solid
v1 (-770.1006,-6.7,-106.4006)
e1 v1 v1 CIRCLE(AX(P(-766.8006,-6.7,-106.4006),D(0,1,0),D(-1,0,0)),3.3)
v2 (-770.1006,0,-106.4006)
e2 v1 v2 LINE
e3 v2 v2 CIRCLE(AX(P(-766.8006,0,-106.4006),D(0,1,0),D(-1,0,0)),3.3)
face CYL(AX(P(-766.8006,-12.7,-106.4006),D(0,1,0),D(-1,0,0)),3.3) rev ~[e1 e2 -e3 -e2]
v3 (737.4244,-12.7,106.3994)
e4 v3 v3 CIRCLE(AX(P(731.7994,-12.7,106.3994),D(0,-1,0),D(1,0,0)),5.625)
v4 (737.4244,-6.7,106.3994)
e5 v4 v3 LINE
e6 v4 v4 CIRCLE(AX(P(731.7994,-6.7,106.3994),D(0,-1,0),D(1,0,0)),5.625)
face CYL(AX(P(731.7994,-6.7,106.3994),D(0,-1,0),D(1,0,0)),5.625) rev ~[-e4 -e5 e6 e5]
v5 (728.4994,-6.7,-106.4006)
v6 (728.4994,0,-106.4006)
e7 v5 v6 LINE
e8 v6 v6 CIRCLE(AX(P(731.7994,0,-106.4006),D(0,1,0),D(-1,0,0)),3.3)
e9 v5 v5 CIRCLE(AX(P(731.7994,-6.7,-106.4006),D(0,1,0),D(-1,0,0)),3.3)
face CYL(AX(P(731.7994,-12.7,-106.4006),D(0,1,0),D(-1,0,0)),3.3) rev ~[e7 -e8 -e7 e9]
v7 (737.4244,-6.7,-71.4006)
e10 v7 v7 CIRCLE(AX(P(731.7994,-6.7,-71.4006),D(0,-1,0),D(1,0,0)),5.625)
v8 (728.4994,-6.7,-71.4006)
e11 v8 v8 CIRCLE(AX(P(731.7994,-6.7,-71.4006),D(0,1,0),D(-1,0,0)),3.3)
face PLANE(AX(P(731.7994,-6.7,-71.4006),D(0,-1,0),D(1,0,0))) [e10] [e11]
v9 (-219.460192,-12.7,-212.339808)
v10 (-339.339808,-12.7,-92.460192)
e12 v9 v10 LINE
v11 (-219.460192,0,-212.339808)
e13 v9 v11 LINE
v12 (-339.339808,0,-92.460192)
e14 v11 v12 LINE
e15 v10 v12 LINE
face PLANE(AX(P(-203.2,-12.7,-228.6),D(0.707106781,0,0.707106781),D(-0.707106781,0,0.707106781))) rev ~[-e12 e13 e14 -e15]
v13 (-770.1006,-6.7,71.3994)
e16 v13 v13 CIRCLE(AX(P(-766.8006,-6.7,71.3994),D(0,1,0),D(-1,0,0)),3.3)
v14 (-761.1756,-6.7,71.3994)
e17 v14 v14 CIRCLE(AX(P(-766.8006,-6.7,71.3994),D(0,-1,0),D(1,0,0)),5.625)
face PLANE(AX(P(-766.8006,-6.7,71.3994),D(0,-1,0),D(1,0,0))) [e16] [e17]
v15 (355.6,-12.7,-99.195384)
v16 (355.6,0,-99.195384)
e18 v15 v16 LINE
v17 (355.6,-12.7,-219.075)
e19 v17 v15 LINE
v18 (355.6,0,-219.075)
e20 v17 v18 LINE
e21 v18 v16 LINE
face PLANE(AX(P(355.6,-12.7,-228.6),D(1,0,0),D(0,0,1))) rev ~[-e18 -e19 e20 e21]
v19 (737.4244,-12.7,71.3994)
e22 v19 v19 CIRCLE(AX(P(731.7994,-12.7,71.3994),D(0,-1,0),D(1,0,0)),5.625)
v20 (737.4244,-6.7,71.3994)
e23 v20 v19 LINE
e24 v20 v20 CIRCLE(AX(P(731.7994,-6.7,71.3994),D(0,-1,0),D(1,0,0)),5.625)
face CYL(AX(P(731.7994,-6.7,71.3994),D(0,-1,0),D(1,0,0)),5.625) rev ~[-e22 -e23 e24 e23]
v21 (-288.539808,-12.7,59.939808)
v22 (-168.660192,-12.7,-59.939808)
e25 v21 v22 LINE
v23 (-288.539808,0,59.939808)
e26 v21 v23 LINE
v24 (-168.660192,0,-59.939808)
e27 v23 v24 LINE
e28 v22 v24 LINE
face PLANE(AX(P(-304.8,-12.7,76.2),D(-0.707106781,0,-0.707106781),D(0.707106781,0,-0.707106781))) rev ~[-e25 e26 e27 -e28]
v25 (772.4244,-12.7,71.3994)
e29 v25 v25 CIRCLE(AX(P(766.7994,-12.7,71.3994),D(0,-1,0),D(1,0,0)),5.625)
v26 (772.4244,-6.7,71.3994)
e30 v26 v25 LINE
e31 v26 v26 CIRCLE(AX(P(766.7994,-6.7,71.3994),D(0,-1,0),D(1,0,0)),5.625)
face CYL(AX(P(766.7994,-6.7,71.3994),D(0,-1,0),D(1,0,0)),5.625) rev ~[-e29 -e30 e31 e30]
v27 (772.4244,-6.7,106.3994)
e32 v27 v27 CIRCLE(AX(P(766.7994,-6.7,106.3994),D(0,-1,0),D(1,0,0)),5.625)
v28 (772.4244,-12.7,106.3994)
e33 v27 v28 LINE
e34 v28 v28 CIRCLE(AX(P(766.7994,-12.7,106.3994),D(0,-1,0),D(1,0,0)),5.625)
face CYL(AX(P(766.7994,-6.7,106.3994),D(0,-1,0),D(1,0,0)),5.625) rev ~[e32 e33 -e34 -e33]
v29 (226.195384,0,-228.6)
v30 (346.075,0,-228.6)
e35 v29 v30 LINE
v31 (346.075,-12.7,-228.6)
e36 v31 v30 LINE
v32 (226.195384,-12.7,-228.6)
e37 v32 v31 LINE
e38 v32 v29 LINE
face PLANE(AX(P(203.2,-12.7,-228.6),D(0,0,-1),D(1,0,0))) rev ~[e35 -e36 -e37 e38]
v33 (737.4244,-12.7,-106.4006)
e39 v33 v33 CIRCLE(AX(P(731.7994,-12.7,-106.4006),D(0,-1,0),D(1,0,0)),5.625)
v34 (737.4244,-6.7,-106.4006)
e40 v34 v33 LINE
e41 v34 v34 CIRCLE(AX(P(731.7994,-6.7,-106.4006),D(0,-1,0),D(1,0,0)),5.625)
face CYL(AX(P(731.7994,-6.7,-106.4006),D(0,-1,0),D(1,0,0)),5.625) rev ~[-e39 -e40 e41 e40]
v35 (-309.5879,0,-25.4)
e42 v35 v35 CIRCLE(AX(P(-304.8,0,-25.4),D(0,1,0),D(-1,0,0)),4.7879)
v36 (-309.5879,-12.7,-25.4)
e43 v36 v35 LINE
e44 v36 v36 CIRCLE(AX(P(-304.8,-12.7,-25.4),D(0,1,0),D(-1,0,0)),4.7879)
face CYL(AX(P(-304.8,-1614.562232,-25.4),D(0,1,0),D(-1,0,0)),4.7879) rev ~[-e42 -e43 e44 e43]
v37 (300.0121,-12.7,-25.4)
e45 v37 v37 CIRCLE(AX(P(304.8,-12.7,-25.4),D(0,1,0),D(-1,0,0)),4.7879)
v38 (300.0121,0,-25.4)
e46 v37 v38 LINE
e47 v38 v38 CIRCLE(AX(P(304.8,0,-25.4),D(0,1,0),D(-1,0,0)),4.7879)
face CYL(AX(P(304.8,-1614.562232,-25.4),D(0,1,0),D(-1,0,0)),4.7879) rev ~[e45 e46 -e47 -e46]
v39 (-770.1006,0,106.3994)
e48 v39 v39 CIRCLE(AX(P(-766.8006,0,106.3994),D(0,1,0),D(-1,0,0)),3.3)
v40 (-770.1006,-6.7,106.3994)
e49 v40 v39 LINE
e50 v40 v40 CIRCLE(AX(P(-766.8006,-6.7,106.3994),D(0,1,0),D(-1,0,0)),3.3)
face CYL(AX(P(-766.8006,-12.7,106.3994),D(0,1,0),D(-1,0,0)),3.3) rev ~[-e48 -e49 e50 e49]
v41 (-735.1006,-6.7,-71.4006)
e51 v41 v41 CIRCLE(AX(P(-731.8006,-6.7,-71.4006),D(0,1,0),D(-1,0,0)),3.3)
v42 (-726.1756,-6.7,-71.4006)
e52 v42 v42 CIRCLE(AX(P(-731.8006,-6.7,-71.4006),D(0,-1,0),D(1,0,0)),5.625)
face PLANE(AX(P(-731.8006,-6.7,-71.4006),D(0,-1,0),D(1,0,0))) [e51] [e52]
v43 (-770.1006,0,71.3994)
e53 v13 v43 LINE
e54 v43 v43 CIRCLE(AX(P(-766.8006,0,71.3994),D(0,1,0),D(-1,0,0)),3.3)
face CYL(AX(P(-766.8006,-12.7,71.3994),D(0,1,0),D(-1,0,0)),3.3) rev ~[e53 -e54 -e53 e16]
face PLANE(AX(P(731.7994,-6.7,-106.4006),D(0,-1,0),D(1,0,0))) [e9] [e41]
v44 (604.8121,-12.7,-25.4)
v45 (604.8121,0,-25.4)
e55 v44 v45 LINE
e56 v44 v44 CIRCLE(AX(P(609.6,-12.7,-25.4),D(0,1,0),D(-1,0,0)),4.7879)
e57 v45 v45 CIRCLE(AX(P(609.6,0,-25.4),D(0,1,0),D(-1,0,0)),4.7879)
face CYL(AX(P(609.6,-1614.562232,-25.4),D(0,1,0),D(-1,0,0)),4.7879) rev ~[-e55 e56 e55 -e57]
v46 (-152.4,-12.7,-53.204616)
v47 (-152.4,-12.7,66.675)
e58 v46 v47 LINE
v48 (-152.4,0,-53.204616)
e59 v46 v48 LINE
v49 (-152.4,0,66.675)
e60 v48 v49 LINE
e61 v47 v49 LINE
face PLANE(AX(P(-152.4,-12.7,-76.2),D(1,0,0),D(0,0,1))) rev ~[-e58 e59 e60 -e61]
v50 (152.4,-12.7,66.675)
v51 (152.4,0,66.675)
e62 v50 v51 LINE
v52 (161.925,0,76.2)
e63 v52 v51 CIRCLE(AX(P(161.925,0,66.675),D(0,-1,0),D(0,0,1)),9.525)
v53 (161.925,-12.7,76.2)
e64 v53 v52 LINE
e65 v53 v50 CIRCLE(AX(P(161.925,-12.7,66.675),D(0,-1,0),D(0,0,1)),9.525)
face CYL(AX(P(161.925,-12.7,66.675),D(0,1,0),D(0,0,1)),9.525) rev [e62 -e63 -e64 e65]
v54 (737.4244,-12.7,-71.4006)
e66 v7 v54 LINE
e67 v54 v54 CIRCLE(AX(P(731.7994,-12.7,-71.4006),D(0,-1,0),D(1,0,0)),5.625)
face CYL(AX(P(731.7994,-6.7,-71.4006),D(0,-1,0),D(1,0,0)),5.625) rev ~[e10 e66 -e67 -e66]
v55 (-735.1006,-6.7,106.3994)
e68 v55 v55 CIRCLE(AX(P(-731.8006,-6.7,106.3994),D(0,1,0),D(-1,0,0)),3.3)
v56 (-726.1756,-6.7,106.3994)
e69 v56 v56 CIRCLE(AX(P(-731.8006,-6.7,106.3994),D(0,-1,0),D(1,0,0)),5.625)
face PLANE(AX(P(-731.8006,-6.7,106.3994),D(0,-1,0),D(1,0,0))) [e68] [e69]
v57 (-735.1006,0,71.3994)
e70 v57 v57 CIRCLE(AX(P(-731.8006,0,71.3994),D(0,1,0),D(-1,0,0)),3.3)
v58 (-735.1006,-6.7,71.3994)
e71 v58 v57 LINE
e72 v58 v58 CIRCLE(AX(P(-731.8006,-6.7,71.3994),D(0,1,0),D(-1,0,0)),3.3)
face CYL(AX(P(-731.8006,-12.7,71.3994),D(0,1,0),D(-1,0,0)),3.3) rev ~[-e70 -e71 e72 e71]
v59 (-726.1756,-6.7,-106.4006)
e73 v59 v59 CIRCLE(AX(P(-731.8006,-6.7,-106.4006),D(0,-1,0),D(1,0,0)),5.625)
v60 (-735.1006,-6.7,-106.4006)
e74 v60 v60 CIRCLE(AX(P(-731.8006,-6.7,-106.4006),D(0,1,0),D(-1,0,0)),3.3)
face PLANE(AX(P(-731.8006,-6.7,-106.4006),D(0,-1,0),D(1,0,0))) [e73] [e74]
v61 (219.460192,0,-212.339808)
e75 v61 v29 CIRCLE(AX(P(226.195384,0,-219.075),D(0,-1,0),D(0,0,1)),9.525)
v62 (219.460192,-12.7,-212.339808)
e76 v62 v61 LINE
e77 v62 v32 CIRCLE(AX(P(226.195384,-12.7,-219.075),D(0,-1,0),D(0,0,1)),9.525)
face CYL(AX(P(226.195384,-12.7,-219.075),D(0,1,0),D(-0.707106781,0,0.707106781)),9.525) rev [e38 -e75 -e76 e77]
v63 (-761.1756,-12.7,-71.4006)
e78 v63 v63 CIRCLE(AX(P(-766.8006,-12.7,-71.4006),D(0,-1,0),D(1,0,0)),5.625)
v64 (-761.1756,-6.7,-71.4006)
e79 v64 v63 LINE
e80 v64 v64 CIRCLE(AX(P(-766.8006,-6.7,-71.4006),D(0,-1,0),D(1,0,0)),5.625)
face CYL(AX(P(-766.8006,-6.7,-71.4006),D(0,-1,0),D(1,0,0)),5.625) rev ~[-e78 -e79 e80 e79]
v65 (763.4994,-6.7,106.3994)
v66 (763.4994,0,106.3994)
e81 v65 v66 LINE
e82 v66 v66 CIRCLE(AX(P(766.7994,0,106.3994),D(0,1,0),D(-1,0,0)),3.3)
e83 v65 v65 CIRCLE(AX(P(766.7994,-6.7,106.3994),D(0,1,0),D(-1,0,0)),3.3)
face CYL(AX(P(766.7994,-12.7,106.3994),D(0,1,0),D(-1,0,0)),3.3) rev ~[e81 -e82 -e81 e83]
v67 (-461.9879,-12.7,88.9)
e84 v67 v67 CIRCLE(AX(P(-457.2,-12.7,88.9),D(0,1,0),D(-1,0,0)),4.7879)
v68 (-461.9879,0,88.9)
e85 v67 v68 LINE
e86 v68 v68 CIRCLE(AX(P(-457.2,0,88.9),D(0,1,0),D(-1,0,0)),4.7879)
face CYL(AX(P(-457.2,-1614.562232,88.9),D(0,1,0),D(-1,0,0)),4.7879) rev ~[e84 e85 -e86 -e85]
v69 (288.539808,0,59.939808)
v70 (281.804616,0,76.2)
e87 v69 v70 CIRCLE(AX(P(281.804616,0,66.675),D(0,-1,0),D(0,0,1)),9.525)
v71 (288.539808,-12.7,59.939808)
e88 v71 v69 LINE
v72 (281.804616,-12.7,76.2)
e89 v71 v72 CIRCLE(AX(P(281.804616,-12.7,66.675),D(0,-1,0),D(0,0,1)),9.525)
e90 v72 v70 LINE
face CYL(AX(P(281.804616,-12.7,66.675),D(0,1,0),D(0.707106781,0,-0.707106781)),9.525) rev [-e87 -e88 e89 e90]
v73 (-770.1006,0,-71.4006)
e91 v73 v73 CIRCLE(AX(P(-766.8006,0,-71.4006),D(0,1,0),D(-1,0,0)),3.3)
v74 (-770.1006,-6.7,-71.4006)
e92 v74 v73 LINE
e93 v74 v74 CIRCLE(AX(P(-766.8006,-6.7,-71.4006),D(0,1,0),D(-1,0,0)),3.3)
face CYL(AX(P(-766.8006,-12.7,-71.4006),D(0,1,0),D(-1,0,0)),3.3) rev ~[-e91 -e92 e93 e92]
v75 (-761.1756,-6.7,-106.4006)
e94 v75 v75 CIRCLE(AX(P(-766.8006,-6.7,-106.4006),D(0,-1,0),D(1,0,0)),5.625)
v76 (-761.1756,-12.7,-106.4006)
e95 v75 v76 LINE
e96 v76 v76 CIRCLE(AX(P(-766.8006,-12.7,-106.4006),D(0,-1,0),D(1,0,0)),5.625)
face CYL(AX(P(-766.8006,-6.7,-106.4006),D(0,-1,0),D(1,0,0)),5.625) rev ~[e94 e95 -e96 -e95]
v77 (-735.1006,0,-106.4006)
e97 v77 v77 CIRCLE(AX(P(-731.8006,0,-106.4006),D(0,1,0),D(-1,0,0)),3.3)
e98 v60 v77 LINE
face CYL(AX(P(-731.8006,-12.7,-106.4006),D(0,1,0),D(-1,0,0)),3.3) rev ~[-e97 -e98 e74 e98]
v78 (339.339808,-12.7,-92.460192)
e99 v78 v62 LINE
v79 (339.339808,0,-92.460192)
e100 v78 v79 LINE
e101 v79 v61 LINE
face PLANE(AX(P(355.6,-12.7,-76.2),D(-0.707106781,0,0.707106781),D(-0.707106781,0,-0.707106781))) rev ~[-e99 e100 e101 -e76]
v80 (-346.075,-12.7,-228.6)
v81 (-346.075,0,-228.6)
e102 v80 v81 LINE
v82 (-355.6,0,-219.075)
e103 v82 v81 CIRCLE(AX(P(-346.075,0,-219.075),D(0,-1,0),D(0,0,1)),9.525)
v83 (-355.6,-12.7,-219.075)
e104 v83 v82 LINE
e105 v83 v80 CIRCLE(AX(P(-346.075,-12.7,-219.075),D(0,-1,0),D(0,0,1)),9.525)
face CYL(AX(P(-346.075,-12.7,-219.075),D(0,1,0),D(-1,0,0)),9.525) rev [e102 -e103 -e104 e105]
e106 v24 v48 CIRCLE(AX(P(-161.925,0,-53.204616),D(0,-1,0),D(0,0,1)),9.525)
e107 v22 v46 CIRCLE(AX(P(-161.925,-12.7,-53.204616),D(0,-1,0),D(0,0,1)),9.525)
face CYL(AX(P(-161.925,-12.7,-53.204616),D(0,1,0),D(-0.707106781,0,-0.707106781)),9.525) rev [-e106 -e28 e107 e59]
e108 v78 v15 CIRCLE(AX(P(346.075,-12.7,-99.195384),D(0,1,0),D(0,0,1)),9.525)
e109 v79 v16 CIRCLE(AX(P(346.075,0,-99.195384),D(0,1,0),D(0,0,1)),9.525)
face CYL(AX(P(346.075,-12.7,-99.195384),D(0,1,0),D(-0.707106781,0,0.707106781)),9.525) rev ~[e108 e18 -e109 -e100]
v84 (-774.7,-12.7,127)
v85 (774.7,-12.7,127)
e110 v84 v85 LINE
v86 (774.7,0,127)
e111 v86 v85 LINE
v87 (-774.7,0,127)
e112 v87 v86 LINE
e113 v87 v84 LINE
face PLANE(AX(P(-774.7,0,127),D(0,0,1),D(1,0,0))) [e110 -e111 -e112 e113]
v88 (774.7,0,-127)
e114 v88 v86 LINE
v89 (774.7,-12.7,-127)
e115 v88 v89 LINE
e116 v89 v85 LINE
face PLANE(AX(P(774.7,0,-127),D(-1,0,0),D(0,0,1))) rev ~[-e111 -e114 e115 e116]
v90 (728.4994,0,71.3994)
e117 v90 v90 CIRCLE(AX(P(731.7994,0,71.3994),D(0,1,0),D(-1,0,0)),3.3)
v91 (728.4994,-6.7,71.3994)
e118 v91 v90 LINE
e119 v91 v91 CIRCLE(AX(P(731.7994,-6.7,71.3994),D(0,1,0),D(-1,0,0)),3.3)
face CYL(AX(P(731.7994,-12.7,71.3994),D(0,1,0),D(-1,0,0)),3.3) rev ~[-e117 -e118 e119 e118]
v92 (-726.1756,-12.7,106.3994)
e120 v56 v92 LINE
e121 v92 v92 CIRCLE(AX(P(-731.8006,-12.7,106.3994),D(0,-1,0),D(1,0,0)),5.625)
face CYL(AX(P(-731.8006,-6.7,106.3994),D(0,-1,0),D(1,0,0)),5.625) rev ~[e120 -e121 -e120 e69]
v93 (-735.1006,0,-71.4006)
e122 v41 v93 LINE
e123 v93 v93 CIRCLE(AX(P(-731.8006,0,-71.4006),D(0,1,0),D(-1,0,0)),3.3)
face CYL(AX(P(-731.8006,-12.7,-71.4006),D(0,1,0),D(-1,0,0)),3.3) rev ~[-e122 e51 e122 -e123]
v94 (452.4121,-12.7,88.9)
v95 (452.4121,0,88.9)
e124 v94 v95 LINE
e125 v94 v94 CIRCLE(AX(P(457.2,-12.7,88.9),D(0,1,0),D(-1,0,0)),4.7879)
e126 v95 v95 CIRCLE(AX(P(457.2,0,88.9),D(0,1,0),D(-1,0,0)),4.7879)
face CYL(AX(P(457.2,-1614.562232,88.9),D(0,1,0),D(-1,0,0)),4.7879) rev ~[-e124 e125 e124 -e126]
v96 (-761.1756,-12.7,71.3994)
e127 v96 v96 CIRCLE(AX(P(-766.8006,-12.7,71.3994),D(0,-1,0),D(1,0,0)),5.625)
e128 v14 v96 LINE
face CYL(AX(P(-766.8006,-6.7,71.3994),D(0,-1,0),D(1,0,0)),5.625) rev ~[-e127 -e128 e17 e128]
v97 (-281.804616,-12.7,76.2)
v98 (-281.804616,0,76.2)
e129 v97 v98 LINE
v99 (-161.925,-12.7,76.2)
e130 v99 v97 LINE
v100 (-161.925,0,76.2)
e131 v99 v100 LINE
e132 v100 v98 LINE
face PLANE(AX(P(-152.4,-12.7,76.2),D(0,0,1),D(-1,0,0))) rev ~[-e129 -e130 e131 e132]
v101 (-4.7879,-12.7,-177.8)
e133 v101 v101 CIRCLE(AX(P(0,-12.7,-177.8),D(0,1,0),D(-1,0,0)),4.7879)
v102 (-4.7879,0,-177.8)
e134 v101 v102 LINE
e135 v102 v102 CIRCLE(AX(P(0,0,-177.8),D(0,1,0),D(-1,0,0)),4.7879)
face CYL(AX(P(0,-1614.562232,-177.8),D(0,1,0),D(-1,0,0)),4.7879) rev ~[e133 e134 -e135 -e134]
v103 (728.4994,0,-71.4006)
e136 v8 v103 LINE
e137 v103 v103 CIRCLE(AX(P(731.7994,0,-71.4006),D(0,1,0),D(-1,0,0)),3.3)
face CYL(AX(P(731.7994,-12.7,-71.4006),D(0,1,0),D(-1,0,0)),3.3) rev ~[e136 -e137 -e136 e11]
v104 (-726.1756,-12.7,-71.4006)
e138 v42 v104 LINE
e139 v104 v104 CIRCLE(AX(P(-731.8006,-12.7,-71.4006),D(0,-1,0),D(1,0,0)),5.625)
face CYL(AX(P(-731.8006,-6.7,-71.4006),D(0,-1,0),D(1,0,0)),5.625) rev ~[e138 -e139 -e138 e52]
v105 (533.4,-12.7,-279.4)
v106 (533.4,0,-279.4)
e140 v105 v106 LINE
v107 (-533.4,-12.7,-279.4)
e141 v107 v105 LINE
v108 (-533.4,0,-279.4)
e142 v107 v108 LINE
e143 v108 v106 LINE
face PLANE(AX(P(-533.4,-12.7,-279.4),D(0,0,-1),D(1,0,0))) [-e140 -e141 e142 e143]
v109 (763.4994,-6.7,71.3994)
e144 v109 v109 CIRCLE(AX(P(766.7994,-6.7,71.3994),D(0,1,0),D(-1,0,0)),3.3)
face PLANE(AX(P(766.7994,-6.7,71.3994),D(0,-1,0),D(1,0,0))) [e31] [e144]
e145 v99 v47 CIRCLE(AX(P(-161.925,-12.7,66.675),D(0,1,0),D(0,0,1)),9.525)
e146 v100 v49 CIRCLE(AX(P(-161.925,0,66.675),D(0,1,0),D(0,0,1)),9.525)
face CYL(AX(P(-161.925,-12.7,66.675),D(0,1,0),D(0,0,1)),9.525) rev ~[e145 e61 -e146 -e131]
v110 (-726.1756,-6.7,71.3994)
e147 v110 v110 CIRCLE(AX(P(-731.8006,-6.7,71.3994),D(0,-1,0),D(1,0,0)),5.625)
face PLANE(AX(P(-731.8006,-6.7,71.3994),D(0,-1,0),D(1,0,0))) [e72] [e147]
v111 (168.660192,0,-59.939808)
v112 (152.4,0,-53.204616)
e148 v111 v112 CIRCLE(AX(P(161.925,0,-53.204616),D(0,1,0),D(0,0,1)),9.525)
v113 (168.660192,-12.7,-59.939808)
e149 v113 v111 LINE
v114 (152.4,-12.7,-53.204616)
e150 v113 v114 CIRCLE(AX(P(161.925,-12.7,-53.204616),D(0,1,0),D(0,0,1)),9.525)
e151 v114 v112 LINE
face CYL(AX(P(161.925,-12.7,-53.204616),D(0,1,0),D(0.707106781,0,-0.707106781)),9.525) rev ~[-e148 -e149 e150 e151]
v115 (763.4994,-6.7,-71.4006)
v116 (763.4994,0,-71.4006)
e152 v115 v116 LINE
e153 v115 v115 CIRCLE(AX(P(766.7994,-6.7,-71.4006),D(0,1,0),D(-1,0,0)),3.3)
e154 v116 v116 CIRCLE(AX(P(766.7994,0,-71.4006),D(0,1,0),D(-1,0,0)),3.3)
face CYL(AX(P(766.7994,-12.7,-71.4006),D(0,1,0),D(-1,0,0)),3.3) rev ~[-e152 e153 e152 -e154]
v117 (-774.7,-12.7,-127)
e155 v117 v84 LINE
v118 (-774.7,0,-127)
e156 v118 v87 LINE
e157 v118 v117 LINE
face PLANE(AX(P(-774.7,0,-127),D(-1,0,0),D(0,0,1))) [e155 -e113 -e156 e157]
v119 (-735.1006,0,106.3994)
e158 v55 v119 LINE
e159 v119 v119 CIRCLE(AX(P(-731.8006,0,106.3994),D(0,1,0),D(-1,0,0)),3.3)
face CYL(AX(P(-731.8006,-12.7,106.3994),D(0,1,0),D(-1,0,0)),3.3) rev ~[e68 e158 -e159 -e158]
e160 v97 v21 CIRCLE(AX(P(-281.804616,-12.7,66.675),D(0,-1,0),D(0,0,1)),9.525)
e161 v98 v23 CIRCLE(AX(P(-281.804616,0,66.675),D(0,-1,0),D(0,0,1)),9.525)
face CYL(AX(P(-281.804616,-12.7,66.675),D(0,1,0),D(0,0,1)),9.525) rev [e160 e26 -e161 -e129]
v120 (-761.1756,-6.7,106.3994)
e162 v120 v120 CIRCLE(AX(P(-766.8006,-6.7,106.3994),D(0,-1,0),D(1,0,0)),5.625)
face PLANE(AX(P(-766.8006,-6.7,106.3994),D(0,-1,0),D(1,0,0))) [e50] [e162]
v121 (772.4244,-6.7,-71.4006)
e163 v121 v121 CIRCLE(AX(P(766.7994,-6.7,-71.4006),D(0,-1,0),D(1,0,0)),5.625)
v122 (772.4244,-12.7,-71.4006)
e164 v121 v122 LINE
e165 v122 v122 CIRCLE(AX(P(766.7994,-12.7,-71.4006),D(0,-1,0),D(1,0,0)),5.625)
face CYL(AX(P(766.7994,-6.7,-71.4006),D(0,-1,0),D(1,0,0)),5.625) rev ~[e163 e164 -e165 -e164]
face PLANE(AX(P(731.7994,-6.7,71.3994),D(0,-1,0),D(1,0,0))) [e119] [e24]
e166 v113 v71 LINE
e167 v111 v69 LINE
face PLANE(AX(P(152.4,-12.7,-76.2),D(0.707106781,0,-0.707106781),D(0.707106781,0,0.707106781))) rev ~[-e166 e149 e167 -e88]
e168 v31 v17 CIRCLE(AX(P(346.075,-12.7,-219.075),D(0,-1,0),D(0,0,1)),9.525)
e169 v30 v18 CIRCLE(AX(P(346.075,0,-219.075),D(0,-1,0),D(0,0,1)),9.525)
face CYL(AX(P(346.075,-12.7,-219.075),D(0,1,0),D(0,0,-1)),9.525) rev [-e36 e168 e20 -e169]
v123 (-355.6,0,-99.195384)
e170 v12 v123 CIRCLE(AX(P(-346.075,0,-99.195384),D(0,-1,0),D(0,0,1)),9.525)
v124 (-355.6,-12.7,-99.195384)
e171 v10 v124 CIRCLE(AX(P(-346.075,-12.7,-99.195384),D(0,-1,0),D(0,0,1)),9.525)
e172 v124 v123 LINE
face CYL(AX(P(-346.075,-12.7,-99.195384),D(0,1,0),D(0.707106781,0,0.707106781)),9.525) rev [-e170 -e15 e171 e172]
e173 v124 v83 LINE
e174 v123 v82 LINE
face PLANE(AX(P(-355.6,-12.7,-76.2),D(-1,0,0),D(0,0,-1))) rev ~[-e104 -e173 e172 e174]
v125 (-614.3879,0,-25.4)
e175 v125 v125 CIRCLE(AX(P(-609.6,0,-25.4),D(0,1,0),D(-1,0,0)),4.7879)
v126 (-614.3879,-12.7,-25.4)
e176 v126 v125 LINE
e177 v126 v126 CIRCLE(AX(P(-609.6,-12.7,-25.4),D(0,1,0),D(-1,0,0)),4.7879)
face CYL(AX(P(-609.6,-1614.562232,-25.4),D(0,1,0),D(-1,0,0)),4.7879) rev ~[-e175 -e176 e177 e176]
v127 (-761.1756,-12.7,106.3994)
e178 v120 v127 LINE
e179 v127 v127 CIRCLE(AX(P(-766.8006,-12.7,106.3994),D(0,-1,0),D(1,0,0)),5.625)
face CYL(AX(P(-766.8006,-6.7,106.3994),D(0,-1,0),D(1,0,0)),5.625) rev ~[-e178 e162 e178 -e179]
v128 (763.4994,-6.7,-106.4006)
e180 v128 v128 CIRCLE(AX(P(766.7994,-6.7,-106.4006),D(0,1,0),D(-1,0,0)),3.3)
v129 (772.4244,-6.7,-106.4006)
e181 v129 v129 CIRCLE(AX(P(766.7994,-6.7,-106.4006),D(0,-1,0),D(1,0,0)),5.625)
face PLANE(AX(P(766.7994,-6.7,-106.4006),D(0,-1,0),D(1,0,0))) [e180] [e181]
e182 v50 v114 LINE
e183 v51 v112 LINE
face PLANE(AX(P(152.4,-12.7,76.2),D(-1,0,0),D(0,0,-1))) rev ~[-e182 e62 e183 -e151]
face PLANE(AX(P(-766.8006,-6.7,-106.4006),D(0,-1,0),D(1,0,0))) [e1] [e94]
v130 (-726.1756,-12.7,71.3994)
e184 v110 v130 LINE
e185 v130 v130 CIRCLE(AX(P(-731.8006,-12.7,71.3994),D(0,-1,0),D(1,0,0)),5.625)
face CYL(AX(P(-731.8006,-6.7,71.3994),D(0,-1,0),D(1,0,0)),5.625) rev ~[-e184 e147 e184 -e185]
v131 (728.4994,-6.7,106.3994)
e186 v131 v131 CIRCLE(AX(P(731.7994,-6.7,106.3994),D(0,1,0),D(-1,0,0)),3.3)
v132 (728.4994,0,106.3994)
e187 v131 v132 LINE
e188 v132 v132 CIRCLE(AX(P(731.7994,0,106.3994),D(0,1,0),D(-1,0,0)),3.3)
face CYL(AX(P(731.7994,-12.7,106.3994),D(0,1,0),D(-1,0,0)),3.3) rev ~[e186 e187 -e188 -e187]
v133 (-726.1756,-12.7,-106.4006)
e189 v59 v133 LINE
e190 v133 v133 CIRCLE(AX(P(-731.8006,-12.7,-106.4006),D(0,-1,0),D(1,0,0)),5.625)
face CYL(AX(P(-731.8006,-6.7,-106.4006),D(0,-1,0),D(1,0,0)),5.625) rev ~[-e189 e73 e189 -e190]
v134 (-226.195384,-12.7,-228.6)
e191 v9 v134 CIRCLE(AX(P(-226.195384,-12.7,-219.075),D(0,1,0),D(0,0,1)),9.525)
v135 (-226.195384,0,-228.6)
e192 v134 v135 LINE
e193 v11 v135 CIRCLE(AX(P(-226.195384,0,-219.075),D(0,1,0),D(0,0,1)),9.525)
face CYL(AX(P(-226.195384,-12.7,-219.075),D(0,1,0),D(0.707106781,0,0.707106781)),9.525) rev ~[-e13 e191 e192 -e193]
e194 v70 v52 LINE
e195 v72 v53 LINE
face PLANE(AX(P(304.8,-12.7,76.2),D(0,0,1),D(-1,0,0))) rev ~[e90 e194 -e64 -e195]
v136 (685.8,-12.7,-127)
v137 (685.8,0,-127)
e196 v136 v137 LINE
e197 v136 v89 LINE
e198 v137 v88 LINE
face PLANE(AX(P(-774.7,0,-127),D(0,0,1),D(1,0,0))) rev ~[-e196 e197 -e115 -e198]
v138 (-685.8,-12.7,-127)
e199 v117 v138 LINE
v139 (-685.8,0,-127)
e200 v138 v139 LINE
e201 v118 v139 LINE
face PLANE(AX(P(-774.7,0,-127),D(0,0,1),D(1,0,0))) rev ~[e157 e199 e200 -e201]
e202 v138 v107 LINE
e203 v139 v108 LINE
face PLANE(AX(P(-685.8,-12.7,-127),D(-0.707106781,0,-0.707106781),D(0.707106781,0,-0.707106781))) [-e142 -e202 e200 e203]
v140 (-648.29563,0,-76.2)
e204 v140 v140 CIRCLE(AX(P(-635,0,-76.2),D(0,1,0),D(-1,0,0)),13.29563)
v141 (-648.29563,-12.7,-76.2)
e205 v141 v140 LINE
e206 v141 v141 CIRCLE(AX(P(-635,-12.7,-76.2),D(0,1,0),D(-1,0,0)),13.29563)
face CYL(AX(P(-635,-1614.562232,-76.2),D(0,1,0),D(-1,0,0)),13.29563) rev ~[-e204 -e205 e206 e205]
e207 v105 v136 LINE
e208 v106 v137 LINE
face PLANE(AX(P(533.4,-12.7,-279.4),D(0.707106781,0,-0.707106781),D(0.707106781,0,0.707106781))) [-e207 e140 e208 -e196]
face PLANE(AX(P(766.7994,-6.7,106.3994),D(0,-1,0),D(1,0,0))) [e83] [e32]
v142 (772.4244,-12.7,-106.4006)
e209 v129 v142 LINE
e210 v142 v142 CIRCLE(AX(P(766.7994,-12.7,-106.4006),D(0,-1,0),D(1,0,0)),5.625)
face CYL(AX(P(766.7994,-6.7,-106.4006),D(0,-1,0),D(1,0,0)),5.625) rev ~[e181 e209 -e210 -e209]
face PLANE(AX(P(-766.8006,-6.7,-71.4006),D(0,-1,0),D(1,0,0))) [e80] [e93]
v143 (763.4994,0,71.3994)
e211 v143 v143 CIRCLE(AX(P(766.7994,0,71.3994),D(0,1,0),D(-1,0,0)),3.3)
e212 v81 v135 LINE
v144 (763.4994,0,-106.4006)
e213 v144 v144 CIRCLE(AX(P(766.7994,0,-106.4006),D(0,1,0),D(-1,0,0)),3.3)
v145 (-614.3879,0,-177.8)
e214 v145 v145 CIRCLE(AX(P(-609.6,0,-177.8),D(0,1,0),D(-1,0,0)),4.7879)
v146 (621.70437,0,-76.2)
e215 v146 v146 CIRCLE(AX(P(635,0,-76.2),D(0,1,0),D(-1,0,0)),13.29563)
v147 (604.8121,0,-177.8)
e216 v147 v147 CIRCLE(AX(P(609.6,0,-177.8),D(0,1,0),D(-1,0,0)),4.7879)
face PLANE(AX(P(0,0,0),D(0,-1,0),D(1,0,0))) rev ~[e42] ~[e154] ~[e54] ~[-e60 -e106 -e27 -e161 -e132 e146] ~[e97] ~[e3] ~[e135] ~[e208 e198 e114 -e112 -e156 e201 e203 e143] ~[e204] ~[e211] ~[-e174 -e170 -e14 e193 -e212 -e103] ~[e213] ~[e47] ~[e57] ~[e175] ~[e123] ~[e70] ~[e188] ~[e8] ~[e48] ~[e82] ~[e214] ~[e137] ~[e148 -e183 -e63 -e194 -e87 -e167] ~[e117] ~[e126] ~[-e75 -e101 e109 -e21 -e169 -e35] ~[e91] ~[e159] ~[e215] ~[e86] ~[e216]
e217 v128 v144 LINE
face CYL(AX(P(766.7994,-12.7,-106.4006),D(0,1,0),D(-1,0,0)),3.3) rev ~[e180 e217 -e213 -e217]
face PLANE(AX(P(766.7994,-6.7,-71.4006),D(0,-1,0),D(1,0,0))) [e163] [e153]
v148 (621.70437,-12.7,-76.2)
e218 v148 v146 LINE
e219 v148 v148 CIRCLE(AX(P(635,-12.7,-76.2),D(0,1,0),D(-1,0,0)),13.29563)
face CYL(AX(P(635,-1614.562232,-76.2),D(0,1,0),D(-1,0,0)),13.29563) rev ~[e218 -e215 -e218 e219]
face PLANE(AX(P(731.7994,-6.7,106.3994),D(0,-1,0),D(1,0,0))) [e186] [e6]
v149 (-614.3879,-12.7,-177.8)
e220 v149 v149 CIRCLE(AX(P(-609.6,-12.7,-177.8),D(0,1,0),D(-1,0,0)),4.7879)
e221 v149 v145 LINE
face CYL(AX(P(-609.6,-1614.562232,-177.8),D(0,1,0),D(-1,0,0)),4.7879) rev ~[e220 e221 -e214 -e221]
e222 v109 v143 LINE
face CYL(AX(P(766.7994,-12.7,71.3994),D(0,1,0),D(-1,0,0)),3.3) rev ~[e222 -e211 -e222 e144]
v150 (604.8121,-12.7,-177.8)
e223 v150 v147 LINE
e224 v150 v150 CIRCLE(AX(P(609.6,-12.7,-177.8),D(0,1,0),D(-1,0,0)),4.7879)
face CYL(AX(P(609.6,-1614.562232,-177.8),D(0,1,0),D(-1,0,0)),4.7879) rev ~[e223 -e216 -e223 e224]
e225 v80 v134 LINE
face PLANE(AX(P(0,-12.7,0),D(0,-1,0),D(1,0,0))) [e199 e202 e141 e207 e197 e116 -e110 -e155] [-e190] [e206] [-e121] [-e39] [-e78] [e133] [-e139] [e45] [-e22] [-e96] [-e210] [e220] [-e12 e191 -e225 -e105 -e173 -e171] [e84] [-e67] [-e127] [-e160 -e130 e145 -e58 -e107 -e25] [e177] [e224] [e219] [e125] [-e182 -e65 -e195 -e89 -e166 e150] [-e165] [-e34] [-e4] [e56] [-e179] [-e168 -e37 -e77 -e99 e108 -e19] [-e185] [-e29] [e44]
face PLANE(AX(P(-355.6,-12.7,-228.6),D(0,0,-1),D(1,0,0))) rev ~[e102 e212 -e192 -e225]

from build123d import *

# Parameters (mm, degrees)
F0_W           = 1549.4
F0_H           = 254
F1_DEPTH       = 12.7
F3_D           = 6.6
F3_CBORE_D     = 11.25
F3_CBORE_DEPTH = 6
F4_W           = 7.62
F4_H           = 5.5372
F6_DEPTH       = 12.7
F8_D           = 26.59126
F10_D          = 9.5758
F12_DEPTH      = 25.4
F13_R          = 9.525


with BuildPart() as f1:
    # F0 (on Front) → F1 (new body)
    with BuildSketch(Plane.XZ):
        Rectangle(F0_W, F0_H)
    extrude(amount=F1_DEPTH)

    # F3 (through all)
    with Locations(Plane.XZ.offset(12.7)):
        with Locations((-766.8006, 106.3994), (-731.8006, 106.3994), (-731.8006, 71.3994), (-766.8006, 71.3994), (-731.8006, -71.4006), (-766.8006, -71.4006), (-766.8006, -106.4006), (-731.8006, -106.4006), (731.7994, 106.3994), (766.7994, 106.3994), (766.7994, 71.3994), (731.7994, 71.3994), (731.7994, -71.4006), (766.7994, -71.4006), (766.7994, -106.4006), (731.7994, -106.4006)):
            CounterBoreHole(F3_D / 2, F3_CBORE_D / 2, F3_CBORE_DEPTH)

    # F4 (on face) + F5 (on face) → F6 (join)
    with BuildSketch(Plane.XZ.offset(12.7)):
        with Locations((-12.1412, 0)):
            Rectangle(F4_W, F4_H)
        with BuildLine():
            Line((-15.9512, -2.7686), (-15.9512, 2.7686))
            ThreePointArc((-15.9512, 2.7686), (-18.7198, 0), (-15.9512, -2.7686))
        make_face()
        with BuildLine():
            ThreePointArc((-8.3312, -2.7686), (-5.5626, 0), (-8.3312, 2.7686))
            Line((-8.3312, 2.7686), (-8.3312, -2.7686))
        make_face()
        with Locations((12.8588, 0)):
            Rectangle(F4_W, F4_H)
        with BuildLine():
            ThreePointArc((9.0488, 2.7686), (6.2802, 0), (9.0488, -2.7686))
            Line((9.0488, -2.7686), (9.0488, 2.7686))
        make_face()
        with BuildLine():
            Line((16.6688, 2.7686), (16.6688, -2.7686))
            ThreePointArc((16.6688, -2.7686), (19.4374, 0), (16.6688, 2.7686))
        make_face()
        with BuildLine():
            Line((16.6688, -60.7314), (16.6688, -66.2686))
            ThreePointArc((16.6688, -66.2686), (19.4374, -63.5), (16.6688, -60.7314))
        make_face()
        with Locations((12.8588, -63.5)):
            Rectangle(F4_W, F4_H)
        with BuildLine():
            ThreePointArc((9.0488, -60.7314), (6.2802, -63.5), (9.0488, -66.2686))
            Line((9.0488, -66.2686), (9.0488, -60.7314))
        make_face()
        with BuildLine():
            Line((-8.3312, -60.7314), (-8.3312, -66.2686))
            ThreePointArc((-8.3312, -66.2686), (-5.5626, -63.5), (-8.3312, -60.7314))
        make_face()
        with Locations((-12.1412, -63.5)):
            Rectangle(F4_W, F4_H)
        with BuildLine():
            ThreePointArc((-15.9512, -60.7314), (-18.7198, -63.5), (-15.9512, -66.2686))
            Line((-15.9512, -66.2686), (-15.9512, -60.7314))
        make_face()
    with BuildSketch(Plane.XZ.offset(12.7)):
        Polygon((685.8, -127), (-685.8, -127), (-533.4, -279.4), (533.4, -279.4), align=None)
    extrude(amount=-F6_DEPTH)

    # F8 (through all)
    with Locations(Plane.XZ.offset(12.7)):
        with Locations((-635, -76.2), (635, -76.2)):
            Hole(F8_D / 2)

    # F10 (through all)
    with Locations(Plane.XZ.offset(12.7)):
        with Locations((-609.6, -25.4), (-609.6, -177.8), (-457.2, 88.9), (457.2, 88.9), (609.6, -25.4), (609.6, -177.8), (-304.8, -25.4), (304.8, -25.4), (0, -177.8)):
            Hole(F10_D / 2)

    # F11 (on face) → F12 (cut)
    with BuildSketch(Plane.XZ.offset(12.7)):
        Polygon((-152.4, 76.2), (-304.8, 76.2), (-152.4, -76.2), align=None)
        Polygon((152.4, -76.2), (304.8, 76.2), (152.4, 76.2), align=None)
        Polygon((355.6, -76.2), (203.2, -228.6), (355.6, -228.6), align=None)
        Polygon((-203.2, -228.6), (-355.6, -76.2), (-355.6, -228.6), align=None)
    extrude(amount=-F12_DEPTH, mode=Mode.SUBTRACT)

    # F13
    f13_edges = [f1.edges().sort_by_distance(p)[0] for p in [
        (-304.8, -6.35, 76.2),
        (-152.4, -6.35, 76.2),
        (-355.6, -6.35, -76.2),
        (-152.4, -6.35, -76.2),
        (-355.6, -6.35, -228.6),
        (-203.2, -6.35, -228.6),
        (355.6, -6.35, -228.6),
        (152.4, -6.35, 76.2),
        (152.4, -6.35, -76.2),
        (203.2, -6.35, -228.6),
        (304.8, -6.35, 76.2),
        (355.6, -6.35, -76.2),
    ]]
    fillet(f13_edges, radius=F13_R)


solid = f1.part
